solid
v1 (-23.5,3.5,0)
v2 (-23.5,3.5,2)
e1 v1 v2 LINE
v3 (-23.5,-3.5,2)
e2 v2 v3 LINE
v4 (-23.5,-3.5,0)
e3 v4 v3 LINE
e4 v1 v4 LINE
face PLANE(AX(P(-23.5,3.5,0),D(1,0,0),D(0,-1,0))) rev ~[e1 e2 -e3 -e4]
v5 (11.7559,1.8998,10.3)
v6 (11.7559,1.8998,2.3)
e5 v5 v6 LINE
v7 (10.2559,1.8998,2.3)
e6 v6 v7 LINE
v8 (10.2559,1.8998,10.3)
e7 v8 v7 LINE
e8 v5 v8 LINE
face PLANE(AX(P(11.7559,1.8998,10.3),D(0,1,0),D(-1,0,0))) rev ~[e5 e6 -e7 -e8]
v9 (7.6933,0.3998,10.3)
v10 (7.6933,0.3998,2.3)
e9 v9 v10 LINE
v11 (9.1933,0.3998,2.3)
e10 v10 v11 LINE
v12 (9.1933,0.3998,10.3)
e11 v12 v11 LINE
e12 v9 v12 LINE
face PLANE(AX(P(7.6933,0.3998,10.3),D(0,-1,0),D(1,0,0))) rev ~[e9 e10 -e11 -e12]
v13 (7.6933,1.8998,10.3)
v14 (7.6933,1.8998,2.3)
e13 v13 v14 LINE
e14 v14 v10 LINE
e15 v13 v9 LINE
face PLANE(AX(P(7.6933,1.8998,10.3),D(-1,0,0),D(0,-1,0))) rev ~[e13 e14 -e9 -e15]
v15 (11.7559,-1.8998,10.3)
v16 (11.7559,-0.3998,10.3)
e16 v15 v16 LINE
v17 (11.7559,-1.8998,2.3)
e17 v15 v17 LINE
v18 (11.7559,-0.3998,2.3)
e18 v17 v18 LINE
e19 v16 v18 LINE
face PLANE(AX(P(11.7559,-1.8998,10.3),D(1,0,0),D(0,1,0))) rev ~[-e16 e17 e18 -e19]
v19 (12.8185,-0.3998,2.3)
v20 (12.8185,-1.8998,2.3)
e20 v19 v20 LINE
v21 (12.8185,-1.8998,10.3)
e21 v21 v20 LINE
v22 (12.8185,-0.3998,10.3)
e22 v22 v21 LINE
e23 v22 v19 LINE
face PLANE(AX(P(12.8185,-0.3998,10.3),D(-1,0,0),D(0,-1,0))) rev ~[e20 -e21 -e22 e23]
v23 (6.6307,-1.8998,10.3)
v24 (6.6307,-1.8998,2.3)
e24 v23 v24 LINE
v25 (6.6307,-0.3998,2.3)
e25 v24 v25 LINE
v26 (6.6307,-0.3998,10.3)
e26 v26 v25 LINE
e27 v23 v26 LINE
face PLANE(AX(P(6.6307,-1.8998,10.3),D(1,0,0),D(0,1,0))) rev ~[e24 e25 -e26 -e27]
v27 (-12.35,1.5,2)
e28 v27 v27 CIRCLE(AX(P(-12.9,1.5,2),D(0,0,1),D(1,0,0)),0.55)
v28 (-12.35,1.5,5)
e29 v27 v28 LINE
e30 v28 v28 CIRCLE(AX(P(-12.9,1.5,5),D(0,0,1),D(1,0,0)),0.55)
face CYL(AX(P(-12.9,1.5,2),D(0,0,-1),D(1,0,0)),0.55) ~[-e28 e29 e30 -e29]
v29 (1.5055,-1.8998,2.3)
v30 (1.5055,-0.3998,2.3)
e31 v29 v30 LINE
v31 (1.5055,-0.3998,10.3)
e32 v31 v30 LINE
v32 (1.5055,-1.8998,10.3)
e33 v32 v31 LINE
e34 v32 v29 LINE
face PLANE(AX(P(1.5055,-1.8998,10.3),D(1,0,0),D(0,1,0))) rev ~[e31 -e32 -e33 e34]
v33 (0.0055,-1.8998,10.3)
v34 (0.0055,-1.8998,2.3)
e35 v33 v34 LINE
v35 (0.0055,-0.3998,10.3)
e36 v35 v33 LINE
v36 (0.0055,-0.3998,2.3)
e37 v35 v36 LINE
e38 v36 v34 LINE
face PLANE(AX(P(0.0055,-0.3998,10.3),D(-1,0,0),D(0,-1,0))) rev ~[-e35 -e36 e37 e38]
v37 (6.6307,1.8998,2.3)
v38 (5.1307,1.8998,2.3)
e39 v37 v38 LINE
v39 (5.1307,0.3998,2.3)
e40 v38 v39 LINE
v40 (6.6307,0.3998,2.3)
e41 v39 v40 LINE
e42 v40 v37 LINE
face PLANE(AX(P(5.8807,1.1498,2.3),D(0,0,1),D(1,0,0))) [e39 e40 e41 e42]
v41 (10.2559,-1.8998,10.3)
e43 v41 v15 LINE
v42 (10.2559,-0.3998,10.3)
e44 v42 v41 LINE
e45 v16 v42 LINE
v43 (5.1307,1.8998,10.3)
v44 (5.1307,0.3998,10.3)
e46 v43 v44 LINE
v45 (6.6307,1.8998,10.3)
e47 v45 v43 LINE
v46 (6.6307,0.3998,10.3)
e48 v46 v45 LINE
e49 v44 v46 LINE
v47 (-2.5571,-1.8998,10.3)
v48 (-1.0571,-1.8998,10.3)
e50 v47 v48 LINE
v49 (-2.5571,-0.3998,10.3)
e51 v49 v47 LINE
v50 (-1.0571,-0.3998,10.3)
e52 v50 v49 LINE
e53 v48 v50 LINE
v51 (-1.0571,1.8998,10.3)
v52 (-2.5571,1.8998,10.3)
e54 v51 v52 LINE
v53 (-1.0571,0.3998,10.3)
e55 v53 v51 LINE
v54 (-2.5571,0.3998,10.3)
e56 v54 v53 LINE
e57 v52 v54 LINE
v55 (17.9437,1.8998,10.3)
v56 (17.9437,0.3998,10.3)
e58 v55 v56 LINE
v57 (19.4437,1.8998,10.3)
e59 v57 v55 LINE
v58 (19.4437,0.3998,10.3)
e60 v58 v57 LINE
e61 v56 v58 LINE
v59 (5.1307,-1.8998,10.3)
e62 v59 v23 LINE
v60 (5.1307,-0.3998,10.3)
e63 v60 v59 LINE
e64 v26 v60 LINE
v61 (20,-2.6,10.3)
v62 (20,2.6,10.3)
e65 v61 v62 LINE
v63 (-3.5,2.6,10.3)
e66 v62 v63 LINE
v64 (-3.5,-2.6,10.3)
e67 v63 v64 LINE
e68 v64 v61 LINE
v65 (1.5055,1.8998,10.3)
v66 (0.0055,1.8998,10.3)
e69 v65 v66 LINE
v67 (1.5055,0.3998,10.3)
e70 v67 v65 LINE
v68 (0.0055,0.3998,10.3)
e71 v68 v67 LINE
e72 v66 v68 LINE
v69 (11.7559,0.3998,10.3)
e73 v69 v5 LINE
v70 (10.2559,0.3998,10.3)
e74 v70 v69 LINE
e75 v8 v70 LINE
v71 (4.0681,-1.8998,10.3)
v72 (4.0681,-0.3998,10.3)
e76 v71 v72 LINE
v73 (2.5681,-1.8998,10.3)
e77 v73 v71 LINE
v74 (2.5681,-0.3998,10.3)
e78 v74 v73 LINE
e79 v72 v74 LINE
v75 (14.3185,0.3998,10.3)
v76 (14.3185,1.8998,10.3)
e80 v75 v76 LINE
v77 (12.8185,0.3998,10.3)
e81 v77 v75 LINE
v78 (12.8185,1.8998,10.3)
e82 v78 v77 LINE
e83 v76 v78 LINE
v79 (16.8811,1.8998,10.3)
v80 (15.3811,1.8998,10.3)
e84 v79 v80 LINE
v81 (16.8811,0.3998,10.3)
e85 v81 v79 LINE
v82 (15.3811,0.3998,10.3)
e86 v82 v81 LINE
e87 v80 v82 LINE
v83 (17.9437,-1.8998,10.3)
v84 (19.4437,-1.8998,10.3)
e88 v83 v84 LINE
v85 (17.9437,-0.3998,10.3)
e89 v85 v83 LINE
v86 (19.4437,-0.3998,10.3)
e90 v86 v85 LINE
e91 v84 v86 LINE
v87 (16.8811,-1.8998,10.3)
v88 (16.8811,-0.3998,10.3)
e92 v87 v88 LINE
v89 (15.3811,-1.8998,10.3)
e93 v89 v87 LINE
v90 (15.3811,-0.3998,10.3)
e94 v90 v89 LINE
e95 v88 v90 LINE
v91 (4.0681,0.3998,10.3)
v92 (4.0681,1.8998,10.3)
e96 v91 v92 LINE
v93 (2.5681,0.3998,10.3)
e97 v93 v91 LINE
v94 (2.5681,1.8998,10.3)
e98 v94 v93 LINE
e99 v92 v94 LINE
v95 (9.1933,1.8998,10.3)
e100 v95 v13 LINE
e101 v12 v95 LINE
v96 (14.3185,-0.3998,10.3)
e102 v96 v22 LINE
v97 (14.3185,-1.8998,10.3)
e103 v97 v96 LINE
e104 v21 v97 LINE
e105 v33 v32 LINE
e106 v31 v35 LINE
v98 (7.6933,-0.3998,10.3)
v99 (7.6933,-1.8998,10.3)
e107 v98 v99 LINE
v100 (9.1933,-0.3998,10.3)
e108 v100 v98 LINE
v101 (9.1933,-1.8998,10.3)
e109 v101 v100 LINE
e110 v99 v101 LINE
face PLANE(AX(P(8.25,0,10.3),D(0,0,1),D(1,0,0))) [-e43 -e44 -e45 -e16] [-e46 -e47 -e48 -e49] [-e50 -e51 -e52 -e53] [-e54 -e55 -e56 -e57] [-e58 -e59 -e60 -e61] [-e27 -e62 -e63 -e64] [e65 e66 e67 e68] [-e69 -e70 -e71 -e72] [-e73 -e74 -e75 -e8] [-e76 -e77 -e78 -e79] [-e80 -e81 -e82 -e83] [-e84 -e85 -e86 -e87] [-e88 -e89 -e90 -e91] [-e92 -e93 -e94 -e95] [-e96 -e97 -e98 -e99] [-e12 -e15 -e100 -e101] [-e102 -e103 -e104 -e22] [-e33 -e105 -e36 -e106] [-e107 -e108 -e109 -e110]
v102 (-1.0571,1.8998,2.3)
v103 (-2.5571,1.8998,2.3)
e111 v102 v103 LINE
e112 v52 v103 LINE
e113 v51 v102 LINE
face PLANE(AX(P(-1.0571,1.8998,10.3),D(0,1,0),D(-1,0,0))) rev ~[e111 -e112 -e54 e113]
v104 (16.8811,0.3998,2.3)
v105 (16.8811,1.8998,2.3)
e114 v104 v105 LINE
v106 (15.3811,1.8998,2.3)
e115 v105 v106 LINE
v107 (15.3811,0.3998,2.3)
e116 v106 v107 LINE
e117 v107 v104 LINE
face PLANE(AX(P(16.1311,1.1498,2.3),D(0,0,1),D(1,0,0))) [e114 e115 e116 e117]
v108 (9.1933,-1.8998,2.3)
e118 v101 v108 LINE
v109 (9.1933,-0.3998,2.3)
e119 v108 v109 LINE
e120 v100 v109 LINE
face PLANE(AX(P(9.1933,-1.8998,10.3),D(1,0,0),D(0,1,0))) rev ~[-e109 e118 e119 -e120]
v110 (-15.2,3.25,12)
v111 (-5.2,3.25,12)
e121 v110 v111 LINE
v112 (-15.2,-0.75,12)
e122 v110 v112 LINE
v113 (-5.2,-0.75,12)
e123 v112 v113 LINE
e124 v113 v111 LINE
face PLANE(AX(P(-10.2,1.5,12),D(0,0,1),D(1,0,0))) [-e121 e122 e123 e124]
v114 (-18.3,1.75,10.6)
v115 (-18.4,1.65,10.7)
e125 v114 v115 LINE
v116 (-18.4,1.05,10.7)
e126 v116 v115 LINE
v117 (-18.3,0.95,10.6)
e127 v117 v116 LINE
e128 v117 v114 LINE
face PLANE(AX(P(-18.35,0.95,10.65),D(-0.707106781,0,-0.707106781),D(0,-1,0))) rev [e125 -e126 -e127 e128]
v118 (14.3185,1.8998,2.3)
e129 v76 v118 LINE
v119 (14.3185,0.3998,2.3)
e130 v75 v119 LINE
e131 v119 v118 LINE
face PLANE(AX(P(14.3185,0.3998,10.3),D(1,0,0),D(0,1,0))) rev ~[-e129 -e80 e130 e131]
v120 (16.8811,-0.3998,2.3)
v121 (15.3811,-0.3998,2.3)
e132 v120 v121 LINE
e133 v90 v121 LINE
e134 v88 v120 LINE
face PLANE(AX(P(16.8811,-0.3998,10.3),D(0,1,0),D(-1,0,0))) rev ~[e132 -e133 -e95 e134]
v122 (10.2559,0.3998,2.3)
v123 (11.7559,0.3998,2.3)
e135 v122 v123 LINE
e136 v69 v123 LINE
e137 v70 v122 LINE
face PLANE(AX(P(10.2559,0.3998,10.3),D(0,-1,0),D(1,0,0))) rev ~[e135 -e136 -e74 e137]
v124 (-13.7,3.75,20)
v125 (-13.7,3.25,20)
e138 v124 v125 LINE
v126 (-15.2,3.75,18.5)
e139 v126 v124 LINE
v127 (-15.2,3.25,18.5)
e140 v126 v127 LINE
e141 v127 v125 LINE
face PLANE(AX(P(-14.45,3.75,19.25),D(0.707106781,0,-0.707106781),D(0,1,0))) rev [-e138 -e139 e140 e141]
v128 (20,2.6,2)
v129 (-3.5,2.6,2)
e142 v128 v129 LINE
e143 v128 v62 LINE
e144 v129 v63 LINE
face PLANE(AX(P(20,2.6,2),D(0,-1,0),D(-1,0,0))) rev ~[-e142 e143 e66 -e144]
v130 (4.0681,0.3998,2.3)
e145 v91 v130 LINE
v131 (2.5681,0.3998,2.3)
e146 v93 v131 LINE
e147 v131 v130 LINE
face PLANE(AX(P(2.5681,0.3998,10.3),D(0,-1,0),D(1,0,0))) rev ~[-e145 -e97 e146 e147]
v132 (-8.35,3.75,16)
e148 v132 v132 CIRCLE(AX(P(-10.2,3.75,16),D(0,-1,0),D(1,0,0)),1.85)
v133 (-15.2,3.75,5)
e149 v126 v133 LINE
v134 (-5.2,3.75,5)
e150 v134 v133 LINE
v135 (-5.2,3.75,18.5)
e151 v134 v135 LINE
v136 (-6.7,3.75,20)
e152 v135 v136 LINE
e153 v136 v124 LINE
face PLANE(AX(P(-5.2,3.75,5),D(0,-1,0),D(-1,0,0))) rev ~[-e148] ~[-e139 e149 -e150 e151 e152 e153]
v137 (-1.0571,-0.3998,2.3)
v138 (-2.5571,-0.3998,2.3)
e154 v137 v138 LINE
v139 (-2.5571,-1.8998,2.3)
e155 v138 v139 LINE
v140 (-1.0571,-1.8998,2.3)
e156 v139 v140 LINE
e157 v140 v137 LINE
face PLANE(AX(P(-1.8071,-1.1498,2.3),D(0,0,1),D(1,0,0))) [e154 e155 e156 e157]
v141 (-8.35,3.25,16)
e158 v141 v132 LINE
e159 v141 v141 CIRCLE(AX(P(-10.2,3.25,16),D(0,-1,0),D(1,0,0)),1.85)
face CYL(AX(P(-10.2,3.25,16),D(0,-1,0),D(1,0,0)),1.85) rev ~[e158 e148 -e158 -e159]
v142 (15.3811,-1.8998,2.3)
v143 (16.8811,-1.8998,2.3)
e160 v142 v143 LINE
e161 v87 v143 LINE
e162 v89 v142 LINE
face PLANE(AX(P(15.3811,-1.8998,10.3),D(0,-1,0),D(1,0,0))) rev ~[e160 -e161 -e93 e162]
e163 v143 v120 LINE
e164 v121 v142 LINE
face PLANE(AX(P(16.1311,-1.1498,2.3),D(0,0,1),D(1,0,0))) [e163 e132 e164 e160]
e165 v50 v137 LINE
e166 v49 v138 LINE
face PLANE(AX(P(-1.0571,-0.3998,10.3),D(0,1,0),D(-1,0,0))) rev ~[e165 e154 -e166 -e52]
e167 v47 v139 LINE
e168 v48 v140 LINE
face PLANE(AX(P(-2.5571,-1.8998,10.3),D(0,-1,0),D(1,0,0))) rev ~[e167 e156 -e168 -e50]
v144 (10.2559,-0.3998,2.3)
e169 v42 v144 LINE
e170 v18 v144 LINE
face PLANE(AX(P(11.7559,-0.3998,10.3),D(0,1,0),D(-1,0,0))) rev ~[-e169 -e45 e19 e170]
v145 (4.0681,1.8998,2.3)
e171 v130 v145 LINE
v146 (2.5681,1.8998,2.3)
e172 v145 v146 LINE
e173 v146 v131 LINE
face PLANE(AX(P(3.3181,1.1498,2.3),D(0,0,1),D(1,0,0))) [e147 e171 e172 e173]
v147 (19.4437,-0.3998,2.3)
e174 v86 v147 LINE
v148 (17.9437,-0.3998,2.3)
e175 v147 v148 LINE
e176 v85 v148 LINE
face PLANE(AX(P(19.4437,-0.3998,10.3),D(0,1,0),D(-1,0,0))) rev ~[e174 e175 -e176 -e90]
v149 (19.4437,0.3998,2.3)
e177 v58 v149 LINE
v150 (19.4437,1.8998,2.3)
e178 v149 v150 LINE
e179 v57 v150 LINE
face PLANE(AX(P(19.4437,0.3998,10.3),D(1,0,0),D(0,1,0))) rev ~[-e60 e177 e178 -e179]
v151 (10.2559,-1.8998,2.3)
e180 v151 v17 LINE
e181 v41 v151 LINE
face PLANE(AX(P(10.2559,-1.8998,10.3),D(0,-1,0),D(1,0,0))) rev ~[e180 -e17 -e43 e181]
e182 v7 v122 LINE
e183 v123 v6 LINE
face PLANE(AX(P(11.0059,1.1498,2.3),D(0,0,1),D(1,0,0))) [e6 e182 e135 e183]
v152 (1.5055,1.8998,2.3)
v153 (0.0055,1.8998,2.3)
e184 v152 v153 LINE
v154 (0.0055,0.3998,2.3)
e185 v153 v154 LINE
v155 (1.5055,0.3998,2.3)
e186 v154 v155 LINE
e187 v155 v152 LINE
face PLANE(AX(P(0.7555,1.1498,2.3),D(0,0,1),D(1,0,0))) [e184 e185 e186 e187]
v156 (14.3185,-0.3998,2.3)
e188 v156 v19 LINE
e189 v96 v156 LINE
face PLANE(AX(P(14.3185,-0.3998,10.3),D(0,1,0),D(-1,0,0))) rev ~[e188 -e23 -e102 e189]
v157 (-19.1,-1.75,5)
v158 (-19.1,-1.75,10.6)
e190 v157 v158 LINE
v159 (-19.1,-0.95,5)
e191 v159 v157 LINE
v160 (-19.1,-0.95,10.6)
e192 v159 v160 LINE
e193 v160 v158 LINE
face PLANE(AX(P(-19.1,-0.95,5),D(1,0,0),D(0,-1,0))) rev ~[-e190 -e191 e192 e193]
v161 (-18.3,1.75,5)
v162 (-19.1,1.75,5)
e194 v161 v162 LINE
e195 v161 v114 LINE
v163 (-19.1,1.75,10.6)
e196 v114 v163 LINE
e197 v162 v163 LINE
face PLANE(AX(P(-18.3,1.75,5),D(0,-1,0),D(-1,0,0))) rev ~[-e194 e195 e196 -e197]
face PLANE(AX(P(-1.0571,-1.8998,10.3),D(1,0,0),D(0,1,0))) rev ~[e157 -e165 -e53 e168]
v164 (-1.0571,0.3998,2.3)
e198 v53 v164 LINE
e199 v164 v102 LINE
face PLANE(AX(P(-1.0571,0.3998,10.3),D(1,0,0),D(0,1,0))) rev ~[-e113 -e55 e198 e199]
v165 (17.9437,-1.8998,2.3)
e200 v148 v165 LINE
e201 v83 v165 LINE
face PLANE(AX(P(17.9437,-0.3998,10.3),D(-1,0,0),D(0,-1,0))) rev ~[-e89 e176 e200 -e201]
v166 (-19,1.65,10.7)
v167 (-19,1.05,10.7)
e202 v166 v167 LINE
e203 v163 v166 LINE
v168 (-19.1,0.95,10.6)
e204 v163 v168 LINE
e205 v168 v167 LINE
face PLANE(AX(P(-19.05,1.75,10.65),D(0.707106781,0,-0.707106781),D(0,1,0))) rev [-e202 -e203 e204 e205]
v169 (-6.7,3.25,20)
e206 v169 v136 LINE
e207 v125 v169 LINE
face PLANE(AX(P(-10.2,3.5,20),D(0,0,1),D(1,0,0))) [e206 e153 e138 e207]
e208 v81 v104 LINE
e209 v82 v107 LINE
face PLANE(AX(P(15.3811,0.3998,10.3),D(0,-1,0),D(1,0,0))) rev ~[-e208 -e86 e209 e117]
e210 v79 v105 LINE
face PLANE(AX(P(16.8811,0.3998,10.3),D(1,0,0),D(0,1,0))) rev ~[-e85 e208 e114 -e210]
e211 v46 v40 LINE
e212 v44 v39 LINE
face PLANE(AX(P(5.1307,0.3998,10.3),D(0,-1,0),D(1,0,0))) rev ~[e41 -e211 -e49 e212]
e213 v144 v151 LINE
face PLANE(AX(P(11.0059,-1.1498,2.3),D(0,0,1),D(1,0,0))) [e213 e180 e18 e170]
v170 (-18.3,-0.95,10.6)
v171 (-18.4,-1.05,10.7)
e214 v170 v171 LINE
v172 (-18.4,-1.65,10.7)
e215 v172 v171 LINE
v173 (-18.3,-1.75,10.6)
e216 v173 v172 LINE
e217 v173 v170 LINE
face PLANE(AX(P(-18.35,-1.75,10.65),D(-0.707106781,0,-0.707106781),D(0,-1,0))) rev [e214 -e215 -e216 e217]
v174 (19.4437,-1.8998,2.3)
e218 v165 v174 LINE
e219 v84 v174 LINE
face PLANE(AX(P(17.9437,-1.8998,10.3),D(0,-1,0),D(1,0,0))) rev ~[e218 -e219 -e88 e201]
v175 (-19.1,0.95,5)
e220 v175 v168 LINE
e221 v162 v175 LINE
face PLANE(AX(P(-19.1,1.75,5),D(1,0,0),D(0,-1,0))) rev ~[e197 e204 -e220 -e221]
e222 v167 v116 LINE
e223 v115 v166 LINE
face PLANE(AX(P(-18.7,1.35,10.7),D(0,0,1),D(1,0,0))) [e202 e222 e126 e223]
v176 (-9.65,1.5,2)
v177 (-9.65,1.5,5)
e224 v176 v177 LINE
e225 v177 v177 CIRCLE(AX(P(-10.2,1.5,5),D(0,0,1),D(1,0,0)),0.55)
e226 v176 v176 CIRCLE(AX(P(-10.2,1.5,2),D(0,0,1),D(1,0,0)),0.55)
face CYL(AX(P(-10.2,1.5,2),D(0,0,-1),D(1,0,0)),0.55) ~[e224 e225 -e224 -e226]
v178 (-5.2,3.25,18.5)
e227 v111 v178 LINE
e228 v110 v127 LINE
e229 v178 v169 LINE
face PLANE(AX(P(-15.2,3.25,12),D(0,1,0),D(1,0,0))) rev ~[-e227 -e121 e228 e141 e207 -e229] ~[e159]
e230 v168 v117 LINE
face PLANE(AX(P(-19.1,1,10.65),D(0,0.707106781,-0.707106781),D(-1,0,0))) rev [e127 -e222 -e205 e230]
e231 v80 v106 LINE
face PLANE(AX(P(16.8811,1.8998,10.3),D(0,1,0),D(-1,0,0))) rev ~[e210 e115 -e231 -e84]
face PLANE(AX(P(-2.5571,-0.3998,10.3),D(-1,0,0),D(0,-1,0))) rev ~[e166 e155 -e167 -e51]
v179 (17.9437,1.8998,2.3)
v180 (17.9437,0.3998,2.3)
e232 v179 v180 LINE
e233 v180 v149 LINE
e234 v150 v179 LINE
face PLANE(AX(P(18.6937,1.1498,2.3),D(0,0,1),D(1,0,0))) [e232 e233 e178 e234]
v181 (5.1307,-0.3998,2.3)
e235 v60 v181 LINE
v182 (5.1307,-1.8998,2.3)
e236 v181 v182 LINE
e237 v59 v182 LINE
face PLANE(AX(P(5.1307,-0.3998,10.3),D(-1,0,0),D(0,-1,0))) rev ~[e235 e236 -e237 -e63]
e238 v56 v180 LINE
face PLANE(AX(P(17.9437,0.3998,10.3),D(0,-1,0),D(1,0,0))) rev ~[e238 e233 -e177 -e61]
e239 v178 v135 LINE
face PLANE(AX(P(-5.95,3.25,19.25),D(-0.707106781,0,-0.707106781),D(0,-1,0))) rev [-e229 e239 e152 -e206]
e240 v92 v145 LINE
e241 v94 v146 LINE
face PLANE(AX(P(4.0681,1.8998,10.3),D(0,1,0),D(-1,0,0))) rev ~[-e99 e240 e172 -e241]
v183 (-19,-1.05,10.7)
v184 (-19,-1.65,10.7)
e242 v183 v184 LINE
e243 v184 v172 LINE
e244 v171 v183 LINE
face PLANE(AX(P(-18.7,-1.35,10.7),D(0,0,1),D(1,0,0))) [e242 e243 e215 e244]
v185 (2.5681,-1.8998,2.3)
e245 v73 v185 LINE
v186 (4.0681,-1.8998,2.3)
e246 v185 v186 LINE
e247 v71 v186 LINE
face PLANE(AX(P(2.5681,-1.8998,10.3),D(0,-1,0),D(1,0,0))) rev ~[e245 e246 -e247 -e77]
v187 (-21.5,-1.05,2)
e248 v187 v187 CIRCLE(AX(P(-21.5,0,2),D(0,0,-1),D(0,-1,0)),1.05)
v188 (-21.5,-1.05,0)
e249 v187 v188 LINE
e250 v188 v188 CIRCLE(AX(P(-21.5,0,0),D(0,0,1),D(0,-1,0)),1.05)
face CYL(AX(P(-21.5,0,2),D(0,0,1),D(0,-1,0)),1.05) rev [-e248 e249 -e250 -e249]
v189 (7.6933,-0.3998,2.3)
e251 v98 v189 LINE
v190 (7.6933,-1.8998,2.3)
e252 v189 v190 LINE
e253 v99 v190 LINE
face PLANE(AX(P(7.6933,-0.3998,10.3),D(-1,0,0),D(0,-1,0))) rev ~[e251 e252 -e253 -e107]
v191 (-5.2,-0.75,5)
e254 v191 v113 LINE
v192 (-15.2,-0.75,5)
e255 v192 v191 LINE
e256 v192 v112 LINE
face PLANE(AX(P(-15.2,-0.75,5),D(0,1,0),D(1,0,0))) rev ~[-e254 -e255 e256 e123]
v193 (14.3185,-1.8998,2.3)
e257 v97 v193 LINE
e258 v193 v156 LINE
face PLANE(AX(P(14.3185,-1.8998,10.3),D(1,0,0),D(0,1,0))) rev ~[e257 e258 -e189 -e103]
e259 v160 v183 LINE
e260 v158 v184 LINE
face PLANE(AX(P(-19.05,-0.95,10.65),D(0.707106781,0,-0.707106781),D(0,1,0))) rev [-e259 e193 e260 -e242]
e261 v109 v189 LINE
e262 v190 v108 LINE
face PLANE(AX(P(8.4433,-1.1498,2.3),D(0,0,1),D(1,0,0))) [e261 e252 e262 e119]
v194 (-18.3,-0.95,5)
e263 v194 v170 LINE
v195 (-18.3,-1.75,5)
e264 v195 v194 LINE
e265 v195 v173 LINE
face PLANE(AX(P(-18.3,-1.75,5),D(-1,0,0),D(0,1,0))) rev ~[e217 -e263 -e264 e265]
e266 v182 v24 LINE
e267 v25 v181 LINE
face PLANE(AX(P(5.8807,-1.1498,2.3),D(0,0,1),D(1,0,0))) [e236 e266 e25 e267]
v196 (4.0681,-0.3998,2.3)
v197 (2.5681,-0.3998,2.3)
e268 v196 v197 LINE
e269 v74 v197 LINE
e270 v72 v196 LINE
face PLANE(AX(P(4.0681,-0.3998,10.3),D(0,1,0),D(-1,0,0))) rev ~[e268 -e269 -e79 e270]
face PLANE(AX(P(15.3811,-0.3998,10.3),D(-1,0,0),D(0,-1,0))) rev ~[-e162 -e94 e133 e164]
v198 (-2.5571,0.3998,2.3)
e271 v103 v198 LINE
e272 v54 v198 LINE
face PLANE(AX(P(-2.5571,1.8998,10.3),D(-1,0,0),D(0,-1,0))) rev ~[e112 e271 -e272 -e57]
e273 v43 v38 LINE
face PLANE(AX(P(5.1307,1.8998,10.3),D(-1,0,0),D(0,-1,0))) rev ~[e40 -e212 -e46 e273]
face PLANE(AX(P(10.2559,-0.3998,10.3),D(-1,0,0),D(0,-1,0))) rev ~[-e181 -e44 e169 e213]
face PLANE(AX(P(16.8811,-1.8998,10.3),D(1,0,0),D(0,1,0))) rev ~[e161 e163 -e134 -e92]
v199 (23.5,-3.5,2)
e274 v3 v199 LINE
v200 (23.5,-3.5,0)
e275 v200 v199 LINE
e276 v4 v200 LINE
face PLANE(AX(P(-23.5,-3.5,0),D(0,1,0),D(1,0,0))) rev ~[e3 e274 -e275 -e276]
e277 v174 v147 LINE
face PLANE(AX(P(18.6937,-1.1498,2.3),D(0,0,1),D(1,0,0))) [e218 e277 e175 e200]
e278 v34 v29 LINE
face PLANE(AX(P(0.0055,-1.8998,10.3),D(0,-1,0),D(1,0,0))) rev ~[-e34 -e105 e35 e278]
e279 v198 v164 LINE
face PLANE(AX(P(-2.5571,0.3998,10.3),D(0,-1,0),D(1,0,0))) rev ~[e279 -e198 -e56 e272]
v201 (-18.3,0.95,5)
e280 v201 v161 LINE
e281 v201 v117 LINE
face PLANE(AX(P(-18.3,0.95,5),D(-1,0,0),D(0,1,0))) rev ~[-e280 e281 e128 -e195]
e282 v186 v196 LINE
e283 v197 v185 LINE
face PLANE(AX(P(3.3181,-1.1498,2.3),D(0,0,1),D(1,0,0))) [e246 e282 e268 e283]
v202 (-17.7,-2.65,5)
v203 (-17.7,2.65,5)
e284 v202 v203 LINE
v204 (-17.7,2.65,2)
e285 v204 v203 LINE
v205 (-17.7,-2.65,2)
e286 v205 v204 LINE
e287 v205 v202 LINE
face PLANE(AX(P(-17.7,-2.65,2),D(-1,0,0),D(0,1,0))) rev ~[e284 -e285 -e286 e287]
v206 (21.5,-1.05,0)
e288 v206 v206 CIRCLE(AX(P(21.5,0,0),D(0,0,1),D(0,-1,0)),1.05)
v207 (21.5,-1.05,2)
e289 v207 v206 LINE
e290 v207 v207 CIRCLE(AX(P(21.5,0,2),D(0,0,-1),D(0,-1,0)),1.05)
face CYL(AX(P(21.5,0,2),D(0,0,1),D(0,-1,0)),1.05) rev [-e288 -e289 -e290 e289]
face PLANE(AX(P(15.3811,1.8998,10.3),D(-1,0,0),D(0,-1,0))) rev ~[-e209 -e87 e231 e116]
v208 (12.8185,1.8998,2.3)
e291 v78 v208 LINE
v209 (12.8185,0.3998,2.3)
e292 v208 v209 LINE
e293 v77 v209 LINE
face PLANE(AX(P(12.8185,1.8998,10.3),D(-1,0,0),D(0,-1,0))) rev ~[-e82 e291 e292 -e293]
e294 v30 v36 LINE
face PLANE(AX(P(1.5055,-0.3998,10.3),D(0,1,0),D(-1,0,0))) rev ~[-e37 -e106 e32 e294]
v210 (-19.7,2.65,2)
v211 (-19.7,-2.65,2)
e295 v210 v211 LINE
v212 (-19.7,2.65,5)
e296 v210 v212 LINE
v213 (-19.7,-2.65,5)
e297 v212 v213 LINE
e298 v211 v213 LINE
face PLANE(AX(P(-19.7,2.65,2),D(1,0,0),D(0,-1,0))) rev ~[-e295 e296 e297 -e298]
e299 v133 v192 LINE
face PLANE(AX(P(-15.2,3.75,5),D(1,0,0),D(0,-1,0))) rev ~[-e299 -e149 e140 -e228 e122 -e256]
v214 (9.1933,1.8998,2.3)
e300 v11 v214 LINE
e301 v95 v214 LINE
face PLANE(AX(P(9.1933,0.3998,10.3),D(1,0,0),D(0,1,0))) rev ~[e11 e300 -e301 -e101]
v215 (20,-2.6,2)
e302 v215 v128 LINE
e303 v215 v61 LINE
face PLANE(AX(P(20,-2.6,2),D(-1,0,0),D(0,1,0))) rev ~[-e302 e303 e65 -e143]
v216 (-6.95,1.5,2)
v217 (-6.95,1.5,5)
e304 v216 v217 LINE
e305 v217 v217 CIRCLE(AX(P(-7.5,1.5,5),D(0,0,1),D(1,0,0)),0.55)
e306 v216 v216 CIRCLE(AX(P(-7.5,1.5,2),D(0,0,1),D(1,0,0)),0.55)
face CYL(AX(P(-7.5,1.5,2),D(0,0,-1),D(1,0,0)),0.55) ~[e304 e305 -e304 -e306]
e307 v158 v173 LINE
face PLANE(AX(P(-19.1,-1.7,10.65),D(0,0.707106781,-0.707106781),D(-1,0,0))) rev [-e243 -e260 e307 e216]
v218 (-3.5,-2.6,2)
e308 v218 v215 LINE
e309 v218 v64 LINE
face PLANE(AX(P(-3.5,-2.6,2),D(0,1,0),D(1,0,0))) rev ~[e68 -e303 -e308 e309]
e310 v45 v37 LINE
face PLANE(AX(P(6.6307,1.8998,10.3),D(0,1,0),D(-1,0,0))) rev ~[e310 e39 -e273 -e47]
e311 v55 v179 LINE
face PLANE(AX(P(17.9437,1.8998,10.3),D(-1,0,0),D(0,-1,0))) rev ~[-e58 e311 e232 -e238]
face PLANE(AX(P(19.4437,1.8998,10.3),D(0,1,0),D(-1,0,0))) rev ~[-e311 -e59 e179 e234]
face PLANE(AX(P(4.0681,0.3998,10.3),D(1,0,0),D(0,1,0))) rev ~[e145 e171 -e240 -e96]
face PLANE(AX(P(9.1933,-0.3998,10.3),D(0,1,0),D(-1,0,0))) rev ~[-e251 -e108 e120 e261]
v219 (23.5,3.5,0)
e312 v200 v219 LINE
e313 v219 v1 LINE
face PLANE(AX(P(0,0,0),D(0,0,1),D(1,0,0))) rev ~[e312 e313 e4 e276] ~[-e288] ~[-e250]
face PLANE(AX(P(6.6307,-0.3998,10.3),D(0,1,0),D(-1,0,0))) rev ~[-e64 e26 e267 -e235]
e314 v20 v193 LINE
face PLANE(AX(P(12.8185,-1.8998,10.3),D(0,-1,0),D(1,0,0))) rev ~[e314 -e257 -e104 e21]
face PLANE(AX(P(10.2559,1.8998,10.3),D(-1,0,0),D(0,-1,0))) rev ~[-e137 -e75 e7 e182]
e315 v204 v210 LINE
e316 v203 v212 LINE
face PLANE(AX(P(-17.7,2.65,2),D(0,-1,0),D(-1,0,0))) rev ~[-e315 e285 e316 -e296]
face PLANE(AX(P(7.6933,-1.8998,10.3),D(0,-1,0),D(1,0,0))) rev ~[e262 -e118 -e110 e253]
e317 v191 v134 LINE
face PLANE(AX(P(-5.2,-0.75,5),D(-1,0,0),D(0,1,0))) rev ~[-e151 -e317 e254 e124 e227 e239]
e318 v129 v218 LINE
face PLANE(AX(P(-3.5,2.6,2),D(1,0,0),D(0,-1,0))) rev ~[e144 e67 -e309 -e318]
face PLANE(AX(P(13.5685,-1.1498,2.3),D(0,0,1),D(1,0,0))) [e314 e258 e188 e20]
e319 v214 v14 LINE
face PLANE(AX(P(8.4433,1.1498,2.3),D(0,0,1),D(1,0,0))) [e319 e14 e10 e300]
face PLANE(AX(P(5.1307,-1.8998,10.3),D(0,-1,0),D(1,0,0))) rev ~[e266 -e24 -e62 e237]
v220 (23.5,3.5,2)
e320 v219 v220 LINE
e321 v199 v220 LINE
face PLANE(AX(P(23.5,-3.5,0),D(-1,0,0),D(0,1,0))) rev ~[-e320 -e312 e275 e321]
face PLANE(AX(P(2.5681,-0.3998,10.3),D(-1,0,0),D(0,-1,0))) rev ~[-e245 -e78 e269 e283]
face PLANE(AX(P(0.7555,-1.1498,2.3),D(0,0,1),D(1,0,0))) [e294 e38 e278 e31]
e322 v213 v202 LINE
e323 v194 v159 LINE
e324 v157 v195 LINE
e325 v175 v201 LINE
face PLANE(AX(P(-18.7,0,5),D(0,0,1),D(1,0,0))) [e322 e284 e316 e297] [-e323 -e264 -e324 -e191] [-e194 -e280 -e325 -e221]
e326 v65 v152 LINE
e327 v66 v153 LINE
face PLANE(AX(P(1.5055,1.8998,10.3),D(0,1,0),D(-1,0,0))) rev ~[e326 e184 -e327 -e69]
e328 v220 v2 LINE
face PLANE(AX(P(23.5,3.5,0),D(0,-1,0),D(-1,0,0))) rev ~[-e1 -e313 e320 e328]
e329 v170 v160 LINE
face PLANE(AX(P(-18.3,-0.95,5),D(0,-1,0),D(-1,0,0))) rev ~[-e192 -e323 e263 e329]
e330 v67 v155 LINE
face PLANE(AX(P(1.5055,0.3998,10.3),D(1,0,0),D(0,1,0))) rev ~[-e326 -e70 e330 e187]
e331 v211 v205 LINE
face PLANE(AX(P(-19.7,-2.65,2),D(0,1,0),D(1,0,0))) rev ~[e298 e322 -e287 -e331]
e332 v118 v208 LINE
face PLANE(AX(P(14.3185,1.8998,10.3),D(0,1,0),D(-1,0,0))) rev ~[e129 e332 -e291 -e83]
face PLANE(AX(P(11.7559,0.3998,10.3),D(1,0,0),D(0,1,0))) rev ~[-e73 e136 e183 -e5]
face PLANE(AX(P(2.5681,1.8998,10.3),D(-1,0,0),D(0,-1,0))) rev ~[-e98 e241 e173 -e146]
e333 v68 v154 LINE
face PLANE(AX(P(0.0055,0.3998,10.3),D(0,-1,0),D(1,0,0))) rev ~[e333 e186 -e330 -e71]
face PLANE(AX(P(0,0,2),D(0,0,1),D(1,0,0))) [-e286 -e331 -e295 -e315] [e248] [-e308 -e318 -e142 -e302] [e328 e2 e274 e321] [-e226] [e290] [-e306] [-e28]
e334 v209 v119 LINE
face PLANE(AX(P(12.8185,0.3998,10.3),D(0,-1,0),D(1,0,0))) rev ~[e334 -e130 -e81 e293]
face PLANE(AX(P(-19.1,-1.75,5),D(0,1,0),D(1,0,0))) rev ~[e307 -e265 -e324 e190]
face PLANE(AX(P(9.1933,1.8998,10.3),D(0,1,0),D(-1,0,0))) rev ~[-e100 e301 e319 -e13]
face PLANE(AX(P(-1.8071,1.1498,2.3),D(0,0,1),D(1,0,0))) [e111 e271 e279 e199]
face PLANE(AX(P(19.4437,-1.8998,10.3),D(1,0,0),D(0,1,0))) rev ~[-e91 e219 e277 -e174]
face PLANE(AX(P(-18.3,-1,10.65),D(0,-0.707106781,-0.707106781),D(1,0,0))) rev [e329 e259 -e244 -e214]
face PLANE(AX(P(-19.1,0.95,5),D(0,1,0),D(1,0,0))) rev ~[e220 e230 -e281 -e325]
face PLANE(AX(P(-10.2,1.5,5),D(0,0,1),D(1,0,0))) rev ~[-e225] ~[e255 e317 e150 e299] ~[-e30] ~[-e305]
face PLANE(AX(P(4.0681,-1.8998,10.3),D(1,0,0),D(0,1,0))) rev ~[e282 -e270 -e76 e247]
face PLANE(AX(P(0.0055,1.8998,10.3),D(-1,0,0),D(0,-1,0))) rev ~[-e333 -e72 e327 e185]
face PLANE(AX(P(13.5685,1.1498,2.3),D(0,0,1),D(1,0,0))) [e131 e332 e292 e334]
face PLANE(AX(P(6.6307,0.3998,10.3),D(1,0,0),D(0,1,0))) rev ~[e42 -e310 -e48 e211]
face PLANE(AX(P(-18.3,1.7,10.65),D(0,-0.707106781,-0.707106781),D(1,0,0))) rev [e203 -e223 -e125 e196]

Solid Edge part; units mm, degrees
sketch "Sketch1" plane through (0, 0, 0) normal (0, 0, 1) x (1, 0, 0)
  line L0 (-23.5, -3.5) -> (23.5, -3.5)
  line L1 (23.5, -3.5) -> (23.5, 3.5)
  line L2 (23.5, 3.5) -> (-23.5, 3.5)
  line L3 (-23.5, 3.5) -> (-23.5, -3.5)
  dimension "D1" = 7
  dimension "D2" = 47
extrude "Protrusion1" add sketch "Sketch1" along normal blind 2
hole "Agujero_1" at (-21.5, 0, 2) direction (0, 0, -1) diameter 2.1 end up to next
hole "Hole1" at (21.5, 0, 2) direction (0, 0, -1) diameter 2.1 end up to next
sketch "Sketch2" plane through (0, 0, 2) normal (0, 0, 1) x (1, 0, 0)
  circle A0 centre (-10.2, 1.5) radius 0.55
  circle A1 centre (-7.5, 1.5) radius 0.55
  circle A2 centre (-12.9, 1.5) radius 0.55
  dimension "D1" = 2
  dimension "D2" = 16
  dimension "D3" = 6.5
  dimension "D4" = 3.8
extrude "ProtrusiónExtruida_2" add sketch "Sketch2" along normal blind 3
sketch "Sketch3" plane through (-14.7861, 1.75, 5) normal (0, 0, 1) x (1, 0, 0)
  line L0 (-0.4139, -2.5) -> (9.5861, -2.5)
  line L1 (9.5861, -2.5) -> (9.5861, 2)
  line L2 (9.5861, 2) -> (-0.4139, 2)
  line L3 (-0.4139, 2) -> (-0.4139, -2.5)
  dimension "D1" = 10
  dimension "D2" = 4.5
extrude "ProtrusiónExtruida_31" add sketch "Sketch3" along normal blind 7
sketch "Sketch4" plane through (-14.7861, 1.75, 12) normal (0, 0, 1) x (1, 0, 0)
  line L0 (-0.4139, 2) -> (-0.4139, 1.5)
  line L1 (-0.4139, 1.5) -> (9.5861, 1.5)
  line L2 (9.5861, 1.5) -> (9.5861, 2)
  line L3 (9.5861, 2) -> (-0.4139, 2)
  dimension "D1" = 10
  dimension "D2" = 0.5
extrude "ProtrusiónExtruida_32" add sketch "Sketch4" along normal blind 8
sketch "Sketch5" plane through (-14.7861, 3.25, 16) normal (0, -1, 0) x (1, 0, 0)
  circle A0 centre (4.5861, 0) radius 1.85
  dimension "D1" = 3.7
extrude "Cutout1" cut sketch "Sketch5" against normal up to next
chamfer "Chaflán_1" distance 1.5 angle 45 2 edges at (-15.2, 3.5, 20) (-5.2, 3.5, 20)
sketch "Sketch6" plane through (0, 0, 2) normal (0, 0, 1) x (1, 0, 0)
  line L0 (-3.5, -2.6) -> (20, -2.6)
  line L1 (20, -2.6) -> (20, 2.6)
  line L2 (20, 2.6) -> (-3.5, 2.6)
  line L3 (-3.5, 2.6) -> (-3.5, -2.6)
  dimension "D1" = 5.2
  dimension "D2" = 23.5
  dimension "D3" = 1.5
extrude "ProtrusiónExtruida_33" add sketch "Sketch6" along normal blind 8.3
sketch "Sketch7" plane through (8.25, 0, 10.3) normal (0, 0, 1) x (1, 0, 0)
  line L0 (-10.8071, 0.3998) -> (-9.3071, 0.3998)
  line L1 (-9.3071, 0.3998) -> (-9.3071, 1.8998)
  line L2 (-9.3071, 1.8998) -> (-10.8071, 1.8998)
  line L3 (-10.8071, 1.8998) -> (-10.8071, 0.3998)
  line L4 (-10.8071, -1.8998) -> (-9.3071, -1.8998)
  line L5 (-9.3071, -1.8998) -> (-9.3071, -0.3998)
  line L6 (-9.3071, -0.3998) -> (-10.8071, -0.3998)
  line L7 (-10.8071, -0.3998) -> (-10.8071, -1.8998)
  dimension "D1" = 1.5
  dimension "D2" = 1.5
extrude "VaciadoExtruido_3" cut sketch "Sketch7" against normal blind 8
pattern_linear "Pattern2" count 9 spacing 2.5626 along (1, 0, 0) of "VaciadoExtruido_3"
sketch "Sketch8" plane through (0, 0, 2) normal (0, 0, 1) x (1, 0, 0)
  line L0 (-19.7, -2.65) -> (-17.7, -2.65)
  line L1 (-17.7, -2.65) -> (-17.7, 2.65)
  line L2 (-17.7, 2.65) -> (-19.7, 2.65)
  line L3 (-19.7, 2.65) -> (-19.7, -2.65)
  dimension "D1" = 2
  dimension "D2" = 5.3
  dimension "D3" = 3.8
extrude "ProtrusiónExtruida_34" add sketch "Sketch8" along normal blind 3
sketch "Sketch9" plane through (-18.7, 0, 5) normal (0, 0, 1) x (1, 0, 0)
  line L0 (-0.4, 0.95) -> (0.4, 0.95)
  line L1 (0.4, 0.95) -> (0.4, 1.75)
  line L2 (0.4, 1.75) -> (-0.4, 1.75)
  line L3 (-0.4, 1.75) -> (-0.4, 0.95)
  line L4 (-0.4, -1.75) -> (0.4, -1.75)
  line L5 (0.4, -1.75) -> (0.4, -0.95)
  line L6 (0.4, -0.95) -> (-0.4, -0.95)
  line L7 (-0.4, -0.95) -> (-0.4, -1.75)
  dimension "D1" = 0.8
  dimension "D2" = 0.8
  dimension "D3" = 1.9
extrude "ProtrusiónExtruida_35" add sketch "Sketch9" along normal blind 5.7
chamfer "Chaflán_3" distance 0.1 angle 45 8 edges at (-18.7, -1.75, 10.7) (-18.3, -1.35, 10.7) (-18.7, -0.95, 10.7) (-19.1, -1.35, 10.7) (-18.7, 0.95, 10.7) (-19.1, 1.35, 10.7) (-18.7, 1.75, 10.7) (-18.3, 1.35, 10.7)
